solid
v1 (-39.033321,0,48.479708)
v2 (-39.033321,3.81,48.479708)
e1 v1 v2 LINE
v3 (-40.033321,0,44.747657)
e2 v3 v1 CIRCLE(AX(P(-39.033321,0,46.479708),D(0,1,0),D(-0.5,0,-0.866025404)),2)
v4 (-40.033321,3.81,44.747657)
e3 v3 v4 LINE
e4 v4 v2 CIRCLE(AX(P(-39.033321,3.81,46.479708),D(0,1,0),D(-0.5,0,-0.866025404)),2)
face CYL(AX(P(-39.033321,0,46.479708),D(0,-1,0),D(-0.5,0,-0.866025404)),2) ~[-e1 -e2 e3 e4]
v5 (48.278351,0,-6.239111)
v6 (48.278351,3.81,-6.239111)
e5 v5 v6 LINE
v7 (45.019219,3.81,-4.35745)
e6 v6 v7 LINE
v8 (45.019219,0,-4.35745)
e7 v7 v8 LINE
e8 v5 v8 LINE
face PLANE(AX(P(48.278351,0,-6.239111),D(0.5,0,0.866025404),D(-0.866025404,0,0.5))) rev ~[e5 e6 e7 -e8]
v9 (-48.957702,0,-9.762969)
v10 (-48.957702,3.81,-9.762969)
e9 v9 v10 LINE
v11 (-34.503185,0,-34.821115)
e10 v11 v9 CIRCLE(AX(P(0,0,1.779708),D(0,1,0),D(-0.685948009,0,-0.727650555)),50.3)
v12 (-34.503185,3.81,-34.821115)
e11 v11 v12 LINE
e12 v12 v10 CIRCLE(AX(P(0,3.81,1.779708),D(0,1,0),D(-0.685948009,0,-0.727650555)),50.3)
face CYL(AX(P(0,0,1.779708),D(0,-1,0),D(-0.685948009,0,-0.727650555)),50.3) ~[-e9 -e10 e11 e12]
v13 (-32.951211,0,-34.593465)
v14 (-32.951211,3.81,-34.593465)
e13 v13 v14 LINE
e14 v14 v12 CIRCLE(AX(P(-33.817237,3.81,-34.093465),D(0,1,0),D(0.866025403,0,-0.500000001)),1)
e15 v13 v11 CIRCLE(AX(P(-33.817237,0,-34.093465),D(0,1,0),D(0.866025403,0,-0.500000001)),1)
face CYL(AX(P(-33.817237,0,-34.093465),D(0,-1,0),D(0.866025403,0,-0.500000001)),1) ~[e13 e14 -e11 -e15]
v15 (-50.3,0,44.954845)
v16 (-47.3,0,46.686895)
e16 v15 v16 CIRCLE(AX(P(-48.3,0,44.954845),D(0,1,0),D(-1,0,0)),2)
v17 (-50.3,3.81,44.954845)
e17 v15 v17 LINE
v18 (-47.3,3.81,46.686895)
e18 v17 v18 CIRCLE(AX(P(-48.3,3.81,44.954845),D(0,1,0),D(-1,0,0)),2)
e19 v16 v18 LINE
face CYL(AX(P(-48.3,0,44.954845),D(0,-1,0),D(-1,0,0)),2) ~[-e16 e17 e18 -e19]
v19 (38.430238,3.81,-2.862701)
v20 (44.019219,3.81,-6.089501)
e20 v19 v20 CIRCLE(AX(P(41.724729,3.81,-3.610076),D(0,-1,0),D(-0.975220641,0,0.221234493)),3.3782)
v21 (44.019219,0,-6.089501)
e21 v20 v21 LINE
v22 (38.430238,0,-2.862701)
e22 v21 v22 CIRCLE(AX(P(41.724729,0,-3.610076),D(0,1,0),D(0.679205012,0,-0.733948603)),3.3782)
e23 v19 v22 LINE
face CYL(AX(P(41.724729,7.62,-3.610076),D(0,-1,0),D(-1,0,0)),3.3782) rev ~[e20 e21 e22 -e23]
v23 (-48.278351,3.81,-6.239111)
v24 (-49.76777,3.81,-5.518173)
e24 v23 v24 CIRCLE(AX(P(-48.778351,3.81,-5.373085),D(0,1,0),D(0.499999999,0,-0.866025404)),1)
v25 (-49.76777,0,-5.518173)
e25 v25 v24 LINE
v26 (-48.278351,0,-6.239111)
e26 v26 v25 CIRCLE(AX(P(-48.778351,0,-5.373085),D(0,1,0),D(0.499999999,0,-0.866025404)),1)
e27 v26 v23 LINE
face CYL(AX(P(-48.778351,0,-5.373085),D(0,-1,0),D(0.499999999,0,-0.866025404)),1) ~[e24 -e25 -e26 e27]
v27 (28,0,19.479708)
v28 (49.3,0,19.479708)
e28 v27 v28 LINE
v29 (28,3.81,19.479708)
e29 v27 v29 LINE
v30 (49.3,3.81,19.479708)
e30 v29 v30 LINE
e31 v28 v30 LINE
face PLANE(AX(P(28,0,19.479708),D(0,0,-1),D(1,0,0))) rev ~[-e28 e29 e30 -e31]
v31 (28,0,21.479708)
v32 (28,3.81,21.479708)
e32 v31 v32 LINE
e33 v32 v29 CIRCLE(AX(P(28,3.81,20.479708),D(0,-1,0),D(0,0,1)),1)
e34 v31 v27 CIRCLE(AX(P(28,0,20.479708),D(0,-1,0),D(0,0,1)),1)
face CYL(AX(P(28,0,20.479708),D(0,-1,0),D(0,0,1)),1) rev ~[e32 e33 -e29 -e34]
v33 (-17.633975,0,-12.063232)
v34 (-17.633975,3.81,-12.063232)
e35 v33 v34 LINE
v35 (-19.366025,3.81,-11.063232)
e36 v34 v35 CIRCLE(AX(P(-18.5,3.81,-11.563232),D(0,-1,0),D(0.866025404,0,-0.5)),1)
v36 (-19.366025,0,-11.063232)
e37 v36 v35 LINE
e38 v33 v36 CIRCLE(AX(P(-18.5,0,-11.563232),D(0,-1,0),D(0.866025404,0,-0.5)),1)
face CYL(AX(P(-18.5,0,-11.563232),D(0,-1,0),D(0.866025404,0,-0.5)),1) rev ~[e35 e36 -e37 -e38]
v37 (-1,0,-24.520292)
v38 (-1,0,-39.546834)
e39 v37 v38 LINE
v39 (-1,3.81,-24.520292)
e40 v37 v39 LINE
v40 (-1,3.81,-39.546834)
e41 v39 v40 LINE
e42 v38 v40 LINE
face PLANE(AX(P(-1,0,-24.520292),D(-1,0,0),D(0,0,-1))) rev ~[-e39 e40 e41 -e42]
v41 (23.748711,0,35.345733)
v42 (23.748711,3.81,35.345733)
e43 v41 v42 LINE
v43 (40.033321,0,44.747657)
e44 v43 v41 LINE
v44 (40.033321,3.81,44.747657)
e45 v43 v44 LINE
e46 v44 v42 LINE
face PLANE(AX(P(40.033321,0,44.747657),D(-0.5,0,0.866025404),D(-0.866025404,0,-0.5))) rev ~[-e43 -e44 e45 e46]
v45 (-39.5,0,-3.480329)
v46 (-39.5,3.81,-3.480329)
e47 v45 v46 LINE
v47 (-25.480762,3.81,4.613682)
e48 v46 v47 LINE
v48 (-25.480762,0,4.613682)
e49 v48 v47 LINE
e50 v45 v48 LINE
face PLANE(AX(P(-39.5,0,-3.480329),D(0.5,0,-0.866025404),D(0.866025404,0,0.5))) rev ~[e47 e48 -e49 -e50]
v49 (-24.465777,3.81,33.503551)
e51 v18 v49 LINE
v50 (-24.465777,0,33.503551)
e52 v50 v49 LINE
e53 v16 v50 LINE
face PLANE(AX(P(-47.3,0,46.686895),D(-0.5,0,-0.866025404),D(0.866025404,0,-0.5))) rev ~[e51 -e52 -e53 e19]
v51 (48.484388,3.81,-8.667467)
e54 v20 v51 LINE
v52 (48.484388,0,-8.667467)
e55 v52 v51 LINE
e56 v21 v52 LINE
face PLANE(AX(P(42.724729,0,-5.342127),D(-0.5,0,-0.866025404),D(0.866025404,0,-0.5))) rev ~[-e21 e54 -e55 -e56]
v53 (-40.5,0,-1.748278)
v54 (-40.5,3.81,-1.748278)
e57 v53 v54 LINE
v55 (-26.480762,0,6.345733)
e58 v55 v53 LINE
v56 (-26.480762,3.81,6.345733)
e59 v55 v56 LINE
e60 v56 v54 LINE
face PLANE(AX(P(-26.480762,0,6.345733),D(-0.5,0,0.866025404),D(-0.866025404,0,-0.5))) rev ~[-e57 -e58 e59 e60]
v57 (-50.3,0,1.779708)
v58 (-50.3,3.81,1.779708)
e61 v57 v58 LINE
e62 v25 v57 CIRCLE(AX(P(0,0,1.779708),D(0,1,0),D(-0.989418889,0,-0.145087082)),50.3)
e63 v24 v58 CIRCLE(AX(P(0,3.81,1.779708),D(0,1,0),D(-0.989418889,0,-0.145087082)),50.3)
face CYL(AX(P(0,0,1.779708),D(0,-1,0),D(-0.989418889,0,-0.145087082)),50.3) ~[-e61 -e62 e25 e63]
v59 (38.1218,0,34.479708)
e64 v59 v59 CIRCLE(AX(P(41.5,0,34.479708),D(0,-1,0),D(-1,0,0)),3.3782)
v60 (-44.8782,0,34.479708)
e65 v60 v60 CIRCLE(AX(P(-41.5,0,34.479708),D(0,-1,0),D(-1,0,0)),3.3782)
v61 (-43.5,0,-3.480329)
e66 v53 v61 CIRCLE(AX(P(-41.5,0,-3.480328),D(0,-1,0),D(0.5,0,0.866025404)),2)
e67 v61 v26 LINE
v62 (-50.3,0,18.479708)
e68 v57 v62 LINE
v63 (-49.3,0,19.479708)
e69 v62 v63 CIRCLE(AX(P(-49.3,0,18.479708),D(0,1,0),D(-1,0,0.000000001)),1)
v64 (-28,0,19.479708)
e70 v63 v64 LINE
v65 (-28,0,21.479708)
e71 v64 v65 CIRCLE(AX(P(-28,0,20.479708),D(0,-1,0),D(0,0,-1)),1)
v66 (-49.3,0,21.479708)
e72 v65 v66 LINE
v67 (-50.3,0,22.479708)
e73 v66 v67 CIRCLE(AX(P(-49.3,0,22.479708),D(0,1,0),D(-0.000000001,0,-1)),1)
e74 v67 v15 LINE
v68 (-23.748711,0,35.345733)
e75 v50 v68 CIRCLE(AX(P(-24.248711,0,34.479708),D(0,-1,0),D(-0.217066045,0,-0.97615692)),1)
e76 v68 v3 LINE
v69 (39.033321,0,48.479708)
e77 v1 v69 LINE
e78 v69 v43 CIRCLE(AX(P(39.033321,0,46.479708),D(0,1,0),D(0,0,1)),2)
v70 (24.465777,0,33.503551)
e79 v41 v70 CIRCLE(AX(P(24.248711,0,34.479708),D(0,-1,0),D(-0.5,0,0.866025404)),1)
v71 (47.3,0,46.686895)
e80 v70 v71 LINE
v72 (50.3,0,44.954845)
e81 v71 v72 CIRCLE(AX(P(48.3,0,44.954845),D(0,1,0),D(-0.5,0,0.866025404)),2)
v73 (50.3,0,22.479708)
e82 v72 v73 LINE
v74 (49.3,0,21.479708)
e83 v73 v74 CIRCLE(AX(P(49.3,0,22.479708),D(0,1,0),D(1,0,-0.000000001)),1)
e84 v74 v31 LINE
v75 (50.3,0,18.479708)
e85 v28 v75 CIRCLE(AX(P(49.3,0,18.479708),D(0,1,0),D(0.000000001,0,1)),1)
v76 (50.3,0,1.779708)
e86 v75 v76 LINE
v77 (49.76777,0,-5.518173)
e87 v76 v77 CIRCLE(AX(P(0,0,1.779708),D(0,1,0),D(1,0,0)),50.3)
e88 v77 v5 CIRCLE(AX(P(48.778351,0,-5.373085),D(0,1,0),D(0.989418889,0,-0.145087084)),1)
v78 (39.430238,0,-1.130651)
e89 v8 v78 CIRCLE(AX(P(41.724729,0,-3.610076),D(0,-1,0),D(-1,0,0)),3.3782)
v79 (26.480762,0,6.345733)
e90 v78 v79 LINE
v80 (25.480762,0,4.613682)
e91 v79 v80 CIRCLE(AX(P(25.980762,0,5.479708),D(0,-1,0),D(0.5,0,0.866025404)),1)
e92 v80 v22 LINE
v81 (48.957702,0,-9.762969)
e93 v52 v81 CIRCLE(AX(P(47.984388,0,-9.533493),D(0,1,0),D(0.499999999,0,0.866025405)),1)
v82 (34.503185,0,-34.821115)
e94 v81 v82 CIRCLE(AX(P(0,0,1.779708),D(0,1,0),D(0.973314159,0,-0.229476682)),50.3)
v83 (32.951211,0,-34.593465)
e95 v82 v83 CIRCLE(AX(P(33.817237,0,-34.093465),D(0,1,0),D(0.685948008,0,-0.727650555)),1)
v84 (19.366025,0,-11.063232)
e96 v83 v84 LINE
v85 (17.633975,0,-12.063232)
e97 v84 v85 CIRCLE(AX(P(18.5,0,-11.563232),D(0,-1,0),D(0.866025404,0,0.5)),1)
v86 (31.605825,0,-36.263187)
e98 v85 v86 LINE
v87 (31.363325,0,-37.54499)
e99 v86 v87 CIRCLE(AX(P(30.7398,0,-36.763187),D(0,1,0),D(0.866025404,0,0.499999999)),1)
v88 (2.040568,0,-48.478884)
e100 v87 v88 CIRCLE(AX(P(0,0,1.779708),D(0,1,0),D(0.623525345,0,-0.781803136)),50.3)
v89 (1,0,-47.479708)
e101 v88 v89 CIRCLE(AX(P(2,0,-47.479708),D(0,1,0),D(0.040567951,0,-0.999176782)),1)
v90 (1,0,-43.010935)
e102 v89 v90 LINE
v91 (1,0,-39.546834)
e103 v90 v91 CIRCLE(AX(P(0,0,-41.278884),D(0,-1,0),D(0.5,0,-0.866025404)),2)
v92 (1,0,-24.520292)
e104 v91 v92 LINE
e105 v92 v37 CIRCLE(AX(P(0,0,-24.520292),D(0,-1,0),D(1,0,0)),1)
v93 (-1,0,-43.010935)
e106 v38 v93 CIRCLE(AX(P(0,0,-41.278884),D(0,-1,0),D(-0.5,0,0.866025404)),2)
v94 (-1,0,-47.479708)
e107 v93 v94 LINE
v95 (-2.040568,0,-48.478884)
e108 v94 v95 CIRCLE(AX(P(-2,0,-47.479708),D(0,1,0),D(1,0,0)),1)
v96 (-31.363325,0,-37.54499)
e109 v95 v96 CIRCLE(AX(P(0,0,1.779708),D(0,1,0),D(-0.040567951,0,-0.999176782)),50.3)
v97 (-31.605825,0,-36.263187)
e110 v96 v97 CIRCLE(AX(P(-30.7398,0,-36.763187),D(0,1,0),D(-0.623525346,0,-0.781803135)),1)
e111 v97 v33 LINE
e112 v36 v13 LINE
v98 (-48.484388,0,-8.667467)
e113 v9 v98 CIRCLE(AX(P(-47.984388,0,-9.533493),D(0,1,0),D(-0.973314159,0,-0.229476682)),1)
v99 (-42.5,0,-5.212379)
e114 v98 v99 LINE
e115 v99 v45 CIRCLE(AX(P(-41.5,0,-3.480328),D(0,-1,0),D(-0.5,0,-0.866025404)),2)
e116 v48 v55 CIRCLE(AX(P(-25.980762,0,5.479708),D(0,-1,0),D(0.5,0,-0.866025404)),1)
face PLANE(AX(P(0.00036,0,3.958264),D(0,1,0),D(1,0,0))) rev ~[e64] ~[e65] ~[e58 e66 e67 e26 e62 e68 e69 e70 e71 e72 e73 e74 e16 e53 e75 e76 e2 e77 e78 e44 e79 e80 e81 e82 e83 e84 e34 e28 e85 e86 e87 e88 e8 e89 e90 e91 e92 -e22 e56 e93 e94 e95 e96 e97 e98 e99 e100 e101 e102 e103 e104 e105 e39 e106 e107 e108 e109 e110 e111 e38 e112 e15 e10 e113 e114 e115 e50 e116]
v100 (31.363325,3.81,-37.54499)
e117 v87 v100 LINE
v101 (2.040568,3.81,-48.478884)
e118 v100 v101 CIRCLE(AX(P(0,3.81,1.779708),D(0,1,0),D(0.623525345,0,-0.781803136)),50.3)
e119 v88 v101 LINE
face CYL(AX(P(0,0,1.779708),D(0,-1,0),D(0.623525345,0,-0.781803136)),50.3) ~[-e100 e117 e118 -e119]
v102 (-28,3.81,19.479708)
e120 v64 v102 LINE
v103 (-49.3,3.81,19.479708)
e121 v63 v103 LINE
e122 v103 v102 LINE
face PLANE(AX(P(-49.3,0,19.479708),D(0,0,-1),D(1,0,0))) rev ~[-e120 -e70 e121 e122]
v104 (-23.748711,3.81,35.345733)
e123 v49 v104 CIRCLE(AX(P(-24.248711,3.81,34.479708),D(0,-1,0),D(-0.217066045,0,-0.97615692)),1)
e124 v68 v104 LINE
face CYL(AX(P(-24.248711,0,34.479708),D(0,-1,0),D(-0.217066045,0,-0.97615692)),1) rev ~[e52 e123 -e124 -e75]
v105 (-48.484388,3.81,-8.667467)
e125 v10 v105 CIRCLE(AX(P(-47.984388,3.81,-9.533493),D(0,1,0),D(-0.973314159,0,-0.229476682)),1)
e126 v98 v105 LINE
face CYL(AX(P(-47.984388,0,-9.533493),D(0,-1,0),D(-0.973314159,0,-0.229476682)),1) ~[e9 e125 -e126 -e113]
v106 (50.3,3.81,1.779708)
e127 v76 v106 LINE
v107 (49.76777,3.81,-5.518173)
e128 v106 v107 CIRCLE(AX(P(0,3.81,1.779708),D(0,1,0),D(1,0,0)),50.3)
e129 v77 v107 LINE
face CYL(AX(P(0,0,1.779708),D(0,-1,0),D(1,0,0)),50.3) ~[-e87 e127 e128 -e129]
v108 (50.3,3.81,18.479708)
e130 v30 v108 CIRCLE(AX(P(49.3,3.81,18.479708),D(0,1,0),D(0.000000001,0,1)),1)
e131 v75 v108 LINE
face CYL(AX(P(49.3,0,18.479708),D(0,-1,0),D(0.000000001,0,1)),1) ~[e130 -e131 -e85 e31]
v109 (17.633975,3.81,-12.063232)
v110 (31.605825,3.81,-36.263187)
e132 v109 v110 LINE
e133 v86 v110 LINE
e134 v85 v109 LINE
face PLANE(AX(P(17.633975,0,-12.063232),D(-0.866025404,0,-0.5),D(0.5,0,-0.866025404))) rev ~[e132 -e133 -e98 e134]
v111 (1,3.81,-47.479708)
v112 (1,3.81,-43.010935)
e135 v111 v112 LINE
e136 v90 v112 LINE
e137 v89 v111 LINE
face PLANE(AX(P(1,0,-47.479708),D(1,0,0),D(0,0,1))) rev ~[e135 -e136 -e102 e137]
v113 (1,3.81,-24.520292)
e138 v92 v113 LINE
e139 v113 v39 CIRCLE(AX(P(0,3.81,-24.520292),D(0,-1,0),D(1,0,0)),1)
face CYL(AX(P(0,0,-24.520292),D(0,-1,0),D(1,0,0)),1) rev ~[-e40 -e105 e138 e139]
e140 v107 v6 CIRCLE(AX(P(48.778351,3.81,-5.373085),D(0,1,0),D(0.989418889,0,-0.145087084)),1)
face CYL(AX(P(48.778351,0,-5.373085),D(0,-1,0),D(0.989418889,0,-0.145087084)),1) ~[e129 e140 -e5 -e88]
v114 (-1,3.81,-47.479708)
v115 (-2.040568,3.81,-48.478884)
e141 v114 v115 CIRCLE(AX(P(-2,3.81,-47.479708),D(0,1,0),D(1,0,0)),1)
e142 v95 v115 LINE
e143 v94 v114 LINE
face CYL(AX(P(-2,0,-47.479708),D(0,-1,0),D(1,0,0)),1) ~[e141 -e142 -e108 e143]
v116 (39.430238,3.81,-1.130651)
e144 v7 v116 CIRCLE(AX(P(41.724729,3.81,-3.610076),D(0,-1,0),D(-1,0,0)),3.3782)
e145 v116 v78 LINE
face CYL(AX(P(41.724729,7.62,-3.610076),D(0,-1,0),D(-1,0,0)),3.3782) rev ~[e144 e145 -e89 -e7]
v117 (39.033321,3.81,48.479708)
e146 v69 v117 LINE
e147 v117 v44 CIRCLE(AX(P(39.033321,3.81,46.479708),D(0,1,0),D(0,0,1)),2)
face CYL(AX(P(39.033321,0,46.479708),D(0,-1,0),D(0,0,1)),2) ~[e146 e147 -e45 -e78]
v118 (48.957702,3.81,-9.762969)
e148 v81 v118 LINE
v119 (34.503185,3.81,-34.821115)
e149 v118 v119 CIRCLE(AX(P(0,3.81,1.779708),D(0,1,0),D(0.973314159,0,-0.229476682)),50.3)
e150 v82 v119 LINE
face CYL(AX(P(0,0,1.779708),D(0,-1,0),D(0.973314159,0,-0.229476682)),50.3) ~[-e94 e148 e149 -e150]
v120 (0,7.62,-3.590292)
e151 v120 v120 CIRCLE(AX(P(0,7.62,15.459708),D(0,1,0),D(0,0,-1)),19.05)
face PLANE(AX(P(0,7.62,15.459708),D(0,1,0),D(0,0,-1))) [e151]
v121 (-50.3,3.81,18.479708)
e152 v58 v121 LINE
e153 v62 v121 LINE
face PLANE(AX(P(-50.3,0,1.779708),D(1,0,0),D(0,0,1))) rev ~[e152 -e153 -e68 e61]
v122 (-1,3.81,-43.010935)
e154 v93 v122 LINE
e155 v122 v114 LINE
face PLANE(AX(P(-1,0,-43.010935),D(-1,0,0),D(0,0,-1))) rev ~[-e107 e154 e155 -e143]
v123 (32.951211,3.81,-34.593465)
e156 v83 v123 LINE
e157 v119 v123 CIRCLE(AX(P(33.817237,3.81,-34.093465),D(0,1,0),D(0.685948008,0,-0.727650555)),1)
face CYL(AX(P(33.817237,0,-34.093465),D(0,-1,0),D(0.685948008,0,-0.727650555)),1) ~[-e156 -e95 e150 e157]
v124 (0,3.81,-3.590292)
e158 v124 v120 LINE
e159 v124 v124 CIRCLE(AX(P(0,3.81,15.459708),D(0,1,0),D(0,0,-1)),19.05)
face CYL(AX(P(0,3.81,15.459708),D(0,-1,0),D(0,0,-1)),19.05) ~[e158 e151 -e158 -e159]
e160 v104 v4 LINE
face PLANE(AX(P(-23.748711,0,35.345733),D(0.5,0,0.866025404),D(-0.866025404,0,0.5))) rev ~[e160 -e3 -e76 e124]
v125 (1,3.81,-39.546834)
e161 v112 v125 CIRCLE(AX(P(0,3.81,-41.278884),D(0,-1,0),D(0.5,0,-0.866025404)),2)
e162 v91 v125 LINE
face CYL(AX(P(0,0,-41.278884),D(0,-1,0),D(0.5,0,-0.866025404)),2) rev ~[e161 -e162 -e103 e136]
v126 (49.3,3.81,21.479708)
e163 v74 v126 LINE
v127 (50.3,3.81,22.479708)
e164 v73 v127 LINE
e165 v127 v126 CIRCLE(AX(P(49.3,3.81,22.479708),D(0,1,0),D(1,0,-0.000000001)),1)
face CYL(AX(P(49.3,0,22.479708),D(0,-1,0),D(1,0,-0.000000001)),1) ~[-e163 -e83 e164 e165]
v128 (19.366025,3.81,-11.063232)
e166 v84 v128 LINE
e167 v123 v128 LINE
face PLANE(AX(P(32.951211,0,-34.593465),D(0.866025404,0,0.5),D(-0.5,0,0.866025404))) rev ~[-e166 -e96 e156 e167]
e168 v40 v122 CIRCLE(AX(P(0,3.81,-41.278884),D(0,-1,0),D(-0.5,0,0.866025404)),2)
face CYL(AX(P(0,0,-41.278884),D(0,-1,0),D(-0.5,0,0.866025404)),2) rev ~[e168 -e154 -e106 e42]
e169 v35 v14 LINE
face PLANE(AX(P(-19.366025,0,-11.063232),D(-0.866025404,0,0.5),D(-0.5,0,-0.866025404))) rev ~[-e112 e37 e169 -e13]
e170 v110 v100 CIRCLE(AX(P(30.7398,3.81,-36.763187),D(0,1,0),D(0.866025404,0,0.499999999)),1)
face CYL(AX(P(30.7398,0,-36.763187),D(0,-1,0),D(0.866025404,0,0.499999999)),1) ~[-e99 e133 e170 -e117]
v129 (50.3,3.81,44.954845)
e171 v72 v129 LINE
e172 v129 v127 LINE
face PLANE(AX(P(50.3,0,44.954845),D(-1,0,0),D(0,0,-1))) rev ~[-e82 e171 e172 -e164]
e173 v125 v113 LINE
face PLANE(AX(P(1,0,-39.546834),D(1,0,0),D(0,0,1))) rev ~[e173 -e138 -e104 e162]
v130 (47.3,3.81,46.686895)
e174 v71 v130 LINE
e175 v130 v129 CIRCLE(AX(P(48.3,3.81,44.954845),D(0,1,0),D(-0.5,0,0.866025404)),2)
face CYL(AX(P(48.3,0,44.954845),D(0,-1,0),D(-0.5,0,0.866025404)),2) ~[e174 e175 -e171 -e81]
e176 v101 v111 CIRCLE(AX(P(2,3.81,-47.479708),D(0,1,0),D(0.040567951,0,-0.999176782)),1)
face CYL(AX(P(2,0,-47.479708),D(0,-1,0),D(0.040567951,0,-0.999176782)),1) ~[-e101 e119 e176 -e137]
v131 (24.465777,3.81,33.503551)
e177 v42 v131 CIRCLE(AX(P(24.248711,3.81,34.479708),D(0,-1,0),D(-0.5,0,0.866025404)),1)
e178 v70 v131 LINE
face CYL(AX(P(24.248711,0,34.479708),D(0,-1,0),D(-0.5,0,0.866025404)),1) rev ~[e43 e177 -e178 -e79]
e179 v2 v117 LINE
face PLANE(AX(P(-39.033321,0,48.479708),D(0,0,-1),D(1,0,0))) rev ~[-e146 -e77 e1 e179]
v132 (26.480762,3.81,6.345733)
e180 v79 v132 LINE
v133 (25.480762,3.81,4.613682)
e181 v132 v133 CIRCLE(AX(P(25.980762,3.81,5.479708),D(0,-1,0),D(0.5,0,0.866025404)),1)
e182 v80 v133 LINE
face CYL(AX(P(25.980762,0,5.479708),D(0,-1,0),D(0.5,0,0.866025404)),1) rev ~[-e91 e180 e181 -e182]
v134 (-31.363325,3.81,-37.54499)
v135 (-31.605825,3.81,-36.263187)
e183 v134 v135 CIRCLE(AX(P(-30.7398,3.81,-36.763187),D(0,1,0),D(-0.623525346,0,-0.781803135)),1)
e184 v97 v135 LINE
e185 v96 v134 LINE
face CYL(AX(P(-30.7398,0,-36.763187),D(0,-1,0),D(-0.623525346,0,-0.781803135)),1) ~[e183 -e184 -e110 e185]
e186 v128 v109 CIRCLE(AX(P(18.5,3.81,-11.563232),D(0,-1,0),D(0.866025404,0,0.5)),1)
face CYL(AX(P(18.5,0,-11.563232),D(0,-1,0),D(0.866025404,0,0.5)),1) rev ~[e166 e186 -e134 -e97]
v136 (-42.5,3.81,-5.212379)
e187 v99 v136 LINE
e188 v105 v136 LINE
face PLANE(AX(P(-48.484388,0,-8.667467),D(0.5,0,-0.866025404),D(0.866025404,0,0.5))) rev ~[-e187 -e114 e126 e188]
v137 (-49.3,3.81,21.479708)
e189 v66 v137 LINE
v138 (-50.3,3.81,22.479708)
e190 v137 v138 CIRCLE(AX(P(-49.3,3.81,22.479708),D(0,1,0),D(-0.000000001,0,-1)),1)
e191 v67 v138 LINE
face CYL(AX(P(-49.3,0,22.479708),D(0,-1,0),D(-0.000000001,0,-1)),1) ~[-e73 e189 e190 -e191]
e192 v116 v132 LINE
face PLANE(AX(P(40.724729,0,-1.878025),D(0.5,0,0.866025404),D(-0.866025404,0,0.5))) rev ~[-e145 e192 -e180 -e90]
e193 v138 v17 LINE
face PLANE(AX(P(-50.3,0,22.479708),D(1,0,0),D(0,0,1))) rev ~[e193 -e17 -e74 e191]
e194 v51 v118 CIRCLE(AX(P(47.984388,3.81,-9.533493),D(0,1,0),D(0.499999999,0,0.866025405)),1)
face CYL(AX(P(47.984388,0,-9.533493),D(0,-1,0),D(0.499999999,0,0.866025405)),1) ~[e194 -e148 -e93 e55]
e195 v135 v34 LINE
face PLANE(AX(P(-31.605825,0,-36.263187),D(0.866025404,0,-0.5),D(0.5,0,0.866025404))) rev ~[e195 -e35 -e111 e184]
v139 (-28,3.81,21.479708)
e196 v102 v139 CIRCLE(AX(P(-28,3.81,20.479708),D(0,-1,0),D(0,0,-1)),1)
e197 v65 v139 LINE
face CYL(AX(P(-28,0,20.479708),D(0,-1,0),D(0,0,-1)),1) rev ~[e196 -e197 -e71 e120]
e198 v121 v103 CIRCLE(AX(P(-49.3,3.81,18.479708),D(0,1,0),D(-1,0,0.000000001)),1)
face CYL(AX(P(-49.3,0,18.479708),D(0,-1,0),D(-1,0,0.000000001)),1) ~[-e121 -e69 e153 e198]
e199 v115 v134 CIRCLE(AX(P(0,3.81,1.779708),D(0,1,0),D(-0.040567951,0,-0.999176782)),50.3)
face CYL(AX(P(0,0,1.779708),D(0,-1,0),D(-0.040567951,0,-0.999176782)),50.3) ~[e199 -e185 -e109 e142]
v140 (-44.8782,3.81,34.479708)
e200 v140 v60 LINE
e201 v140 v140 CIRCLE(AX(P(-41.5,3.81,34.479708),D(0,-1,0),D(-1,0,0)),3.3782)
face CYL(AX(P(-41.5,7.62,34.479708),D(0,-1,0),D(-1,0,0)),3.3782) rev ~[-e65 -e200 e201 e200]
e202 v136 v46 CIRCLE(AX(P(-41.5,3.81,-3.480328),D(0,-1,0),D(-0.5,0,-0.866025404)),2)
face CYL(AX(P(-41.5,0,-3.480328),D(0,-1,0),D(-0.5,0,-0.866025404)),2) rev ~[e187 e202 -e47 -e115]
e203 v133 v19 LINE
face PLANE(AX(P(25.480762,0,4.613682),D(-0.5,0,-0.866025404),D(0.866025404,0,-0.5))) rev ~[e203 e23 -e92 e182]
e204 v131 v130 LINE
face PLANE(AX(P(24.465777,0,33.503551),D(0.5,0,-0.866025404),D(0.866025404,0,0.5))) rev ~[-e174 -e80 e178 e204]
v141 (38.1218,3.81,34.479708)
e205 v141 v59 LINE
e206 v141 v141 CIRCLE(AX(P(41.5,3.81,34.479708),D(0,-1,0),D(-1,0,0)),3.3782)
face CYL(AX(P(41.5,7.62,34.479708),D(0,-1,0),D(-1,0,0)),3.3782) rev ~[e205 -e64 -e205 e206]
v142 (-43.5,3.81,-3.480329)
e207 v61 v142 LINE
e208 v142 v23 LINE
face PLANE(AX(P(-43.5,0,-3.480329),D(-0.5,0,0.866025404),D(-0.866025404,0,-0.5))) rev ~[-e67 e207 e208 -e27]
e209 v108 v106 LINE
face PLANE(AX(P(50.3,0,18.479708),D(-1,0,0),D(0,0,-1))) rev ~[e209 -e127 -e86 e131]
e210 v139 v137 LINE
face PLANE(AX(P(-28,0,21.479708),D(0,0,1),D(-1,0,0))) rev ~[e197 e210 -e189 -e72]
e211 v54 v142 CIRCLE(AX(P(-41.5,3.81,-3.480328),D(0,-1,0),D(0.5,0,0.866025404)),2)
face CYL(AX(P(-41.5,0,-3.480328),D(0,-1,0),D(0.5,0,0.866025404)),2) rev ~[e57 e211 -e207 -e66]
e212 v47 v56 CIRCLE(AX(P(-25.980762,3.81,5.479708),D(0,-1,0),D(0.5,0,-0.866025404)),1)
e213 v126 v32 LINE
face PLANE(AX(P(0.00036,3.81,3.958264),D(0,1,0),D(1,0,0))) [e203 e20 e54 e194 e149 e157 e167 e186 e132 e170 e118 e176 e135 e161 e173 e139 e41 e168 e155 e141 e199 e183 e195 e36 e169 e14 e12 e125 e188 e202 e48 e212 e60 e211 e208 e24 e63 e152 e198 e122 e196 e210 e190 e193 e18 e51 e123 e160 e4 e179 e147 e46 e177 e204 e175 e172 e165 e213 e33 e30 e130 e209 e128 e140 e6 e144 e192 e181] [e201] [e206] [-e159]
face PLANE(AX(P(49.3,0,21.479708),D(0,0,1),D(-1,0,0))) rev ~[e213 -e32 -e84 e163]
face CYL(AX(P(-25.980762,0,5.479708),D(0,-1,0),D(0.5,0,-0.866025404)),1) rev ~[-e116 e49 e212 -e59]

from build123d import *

# Parameters (mm, degrees)
SKETCH2_R                   = 2
BOSS_EXTRUDE1_DEPTH         = 3.81
SKETCH3_R                   = 19.05
BOSS_EXTRUDE2_DEPTH         = 3.81
F_1_4_CLEARANCE_HOLE1_D     = 6.7564
F_1_4_CLEARANCE_HOLE1_DEPTH = 3.81


with BuildPart() as part:
    # Sketch2 → Boss-Extrude1 (new body)
    with BuildSketch(Plane(origin=(0, 0, 0), x_dir=(1, 0, 0), z_dir=(0, 1, 0))):
        with BuildLine():
            Line((40.724728738, 1.878024889), (26.480762114, -6.345733076))
            ThreePointArc((26.480762114, -6.345733076), (25.11473671, -5.979707672), (25.480762114, -4.613682268))
            Line((25.480762114, -4.613682268), (39.724728738, 3.610075697))
            ThreePointArc((39.724728738, 3.610075697), (40.724728738, 5.342126504), (42.724728738, 5.342126504))
            Line((42.724728738, 5.342126504), (48.484388044, 8.667467356))
            ThreePointArc((48.484388044, 8.667467356), (48.902372172, 9.136875637), (48.957702204, 9.762969441))
            ThreePointArc((48.957702204, 9.762969441), (43.570719337, 23.353585317), (34.503184828, 34.821115225))
            ThreePointArc((34.503184828, 34.821115225), (33.67210529, 35.082877041), (32.951211415, 34.593464671))
            Line((32.951211415, 34.593464671), (19.366025404, 11.063232268))
            ThreePointArc((19.366025404, 11.063232268), (18, 10.697206864), (17.633974596, 12.063232268))
            Line((17.633974596, 12.063232268), (31.605824937, 36.263186935))
            ThreePointArc((31.605824937, 36.263186935), (31.722370232, 36.949076207), (31.363324879, 37.544990071))
            ThreePointArc((31.363324879, 37.544990071), (17.573916059, 45.350404511), (2.040567951, 48.478884454))
            ThreePointArc((2.040567951, 48.478884454), (1.307384649, 48.201014802), (1, 47.479707672))
            Line((1, 47.479707672), (1, 43.010935261))
            ThreePointArc((1, 43.010935261), (2, 41.278884454), (1, 39.546833646))
            Line((1, 39.546833646), (1, 24.520292328))
            ThreePointArc((1, 24.520292328), (0, 23.520292328), (-1, 24.520292328))
            Line((-1, 24.520292328), (-1, 39.546833646))
            ThreePointArc((-1, 39.546833646), (-2, 41.278884454), (-1, 43.010935261))
            Line((-1, 43.010935261), (-1, 47.479707672))
            ThreePointArc((-1, 47.479707672), (-1.307384649, 48.201014802), (-2.040567951, 48.478884454))
            ThreePointArc((-2.040567951, 48.478884454), (-17.573916059, 45.350404511), (-31.363324879, 37.544990071))
            ThreePointArc((-31.363324879, 37.544990071), (-31.722370232, 36.949076207), (-31.605824937, 36.263186935))
            Line((-31.605824937, 36.263186935), (-17.633974596, 12.063232268))
            ThreePointArc((-17.633974596, 12.063232268), (-18, 10.697206864), (-19.366025404, 11.063232268))
            Line((-19.366025404, 11.063232268), (-32.951211415, 34.593464671))
            ThreePointArc((-32.951211415, 34.593464671), (-33.67210529, 35.082877041), (-34.503184828, 34.821115225))
            ThreePointArc((-34.503184828, 34.821115225), (-43.570719337, 23.353585317), (-48.957702204, 9.762969441))
            ThreePointArc((-48.957702204, 9.762969441), (-48.902372172, 9.136875637), (-48.484388044, 8.667467356))
            Line((-48.484388044, 8.667467356), (-42.5, 5.212379307))
            ThreePointArc((-42.5, 5.212379307), (-40.5, 5.212379307), (-39.5, 3.4803285))
            Line((-39.5, 3.4803285), (-25.480762114, -4.613682268))
            ThreePointArc((-25.480762114, -4.613682268), (-25.11473671, -5.979707672), (-26.480762114, -6.345733076))
            Line((-26.480762114, -6.345733076), (-40.5, 1.748277692))
            ThreePointArc((-40.5, 1.748277692), (-42.5, 1.748277692), (-43.5, 3.4803285))
            Line((-43.5, 3.4803285), (-48.278351245, 6.239110877))
            ThreePointArc((-48.278351245, 6.239110877), (-49.214035452, 6.273185063), (-49.767770135, 5.518172556))
            ThreePointArc((-49.767770135, 5.518172556), (-50.16676608, 1.878923371), (-50.3, -1.779707672))
            Line((-50.3, -1.779707672), (-50.3, -18.479707672))
            ThreePointArc((-50.3, -18.479707672), (-50.007106781, -19.186814453), (-49.3, -19.479707672))
            Line((-49.3, -19.479707672), (-28, -19.479707672))
            ThreePointArc((-28, -19.479707672), (-27, -20.479707672), (-28, -21.479707672))
            Line((-28, -21.479707672), (-49.3, -21.479707672))
            ThreePointArc((-49.3, -21.479707672), (-50.007106781, -21.772600891), (-50.3, -22.479707672))
            Line((-50.3, -22.479707672), (-50.3, -44.954844537))
            ThreePointArc((-50.3, -44.954844537), (-49.3, -46.686895345), (-47.3, -46.686895345))
            Line((-47.3, -46.686895345), (-24.465777351, -33.503550752))
            ThreePointArc((-24.465777351, -33.503550752), (-23.31681977, -34.116970624), (-23.748711306, -35.345733076))
            Line((-23.748711306, -35.345733076), (-40.033320997, -44.747656864))
            ThreePointArc((-40.033320997, -44.747656864), (-40.965172649, -46.997345762), (-39.033320997, -48.479707672))
            Line((-39.033320997, -48.479707672), (39.033320997, -48.479707672))
            ThreePointArc((39.033320997, -48.479707672), (40.965172649, -46.997345762), (40.033320997, -44.747656864))
            Line((40.033320997, -44.747656864), (23.748711306, -35.345733076))
            ThreePointArc((23.748711306, -35.345733076), (23.31681977, -34.116970624), (24.465777351, -33.503550752))
            Line((24.465777351, -33.503550752), (47.3, -46.686895345))
            ThreePointArc((47.3, -46.686895345), (49.3, -46.686895345), (50.3, -44.954844537))
            Line((50.3, -44.954844537), (50.3, -22.479707672))
            ThreePointArc((50.3, -22.479707672), (50.007106781, -21.772600891), (49.3, -21.479707672))
            Line((49.3, -21.479707672), (28, -21.479707672))
            ThreePointArc((28, -21.479707672), (27, -20.479707672), (28, -19.479707672))
            Line((28, -19.479707672), (49.3, -19.479707672))
            ThreePointArc((49.3, -19.479707672), (50.007106781, -19.186814453), (50.3, -18.479707672))
            Line((50.3, -18.479707672), (50.3, -1.779707672))
            ThreePointArc((50.3, -1.779707672), (50.16676608, 1.878923371), (49.767770135, 5.518172556))
            ThreePointArc((49.767770135, 5.518172556), (49.214035452, 6.273185063), (48.278351245, 6.239110877))
            Line((48.278351245, 6.239110877), (43.724728738, 3.610075697))
            ThreePointArc((43.724728738, 3.610075697), (42.724728738, 1.878024889), (40.724728738, 1.878024889))
        make_face()
        with Locations(Location((-41.5, -34.479707672, 0), (0, 0, 90))):
            Circle(SKETCH2_R, mode=Mode.SUBTRACT)
        with Locations(Location((41.5, -34.479707672, 0), (0, 0, 90))):
            Circle(SKETCH2_R, mode=Mode.SUBTRACT)
    extrude(amount=BOSS_EXTRUDE1_DEPTH)

    # Sketch3 → Boss-Extrude2 (add)
    with BuildSketch(Plane(origin=(0, 3.81, 0), x_dir=(1, 0, 0), z_dir=(0, 1, 0))):
        with Locations(Location((0, -15.459707672, 0), (0, 0, 90))):
            Circle(SKETCH3_R)
    extrude(amount=BOSS_EXTRUDE2_DEPTH)

    # 1/4 Clearance Hole1
    with Locations(Plane(origin=(0, 3.81, 0), x_dir=(1, 0, 0), z_dir=(0, 1, 0))):
        with Locations((41.5, -34.479707672), (41.724728738, 3.610075697), (-41.5, -34.479707672)):
            Hole(F_1_4_CLEARANCE_HOLE1_D / 2, depth=F_1_4_CLEARANCE_HOLE1_DEPTH)


solid = part.part
